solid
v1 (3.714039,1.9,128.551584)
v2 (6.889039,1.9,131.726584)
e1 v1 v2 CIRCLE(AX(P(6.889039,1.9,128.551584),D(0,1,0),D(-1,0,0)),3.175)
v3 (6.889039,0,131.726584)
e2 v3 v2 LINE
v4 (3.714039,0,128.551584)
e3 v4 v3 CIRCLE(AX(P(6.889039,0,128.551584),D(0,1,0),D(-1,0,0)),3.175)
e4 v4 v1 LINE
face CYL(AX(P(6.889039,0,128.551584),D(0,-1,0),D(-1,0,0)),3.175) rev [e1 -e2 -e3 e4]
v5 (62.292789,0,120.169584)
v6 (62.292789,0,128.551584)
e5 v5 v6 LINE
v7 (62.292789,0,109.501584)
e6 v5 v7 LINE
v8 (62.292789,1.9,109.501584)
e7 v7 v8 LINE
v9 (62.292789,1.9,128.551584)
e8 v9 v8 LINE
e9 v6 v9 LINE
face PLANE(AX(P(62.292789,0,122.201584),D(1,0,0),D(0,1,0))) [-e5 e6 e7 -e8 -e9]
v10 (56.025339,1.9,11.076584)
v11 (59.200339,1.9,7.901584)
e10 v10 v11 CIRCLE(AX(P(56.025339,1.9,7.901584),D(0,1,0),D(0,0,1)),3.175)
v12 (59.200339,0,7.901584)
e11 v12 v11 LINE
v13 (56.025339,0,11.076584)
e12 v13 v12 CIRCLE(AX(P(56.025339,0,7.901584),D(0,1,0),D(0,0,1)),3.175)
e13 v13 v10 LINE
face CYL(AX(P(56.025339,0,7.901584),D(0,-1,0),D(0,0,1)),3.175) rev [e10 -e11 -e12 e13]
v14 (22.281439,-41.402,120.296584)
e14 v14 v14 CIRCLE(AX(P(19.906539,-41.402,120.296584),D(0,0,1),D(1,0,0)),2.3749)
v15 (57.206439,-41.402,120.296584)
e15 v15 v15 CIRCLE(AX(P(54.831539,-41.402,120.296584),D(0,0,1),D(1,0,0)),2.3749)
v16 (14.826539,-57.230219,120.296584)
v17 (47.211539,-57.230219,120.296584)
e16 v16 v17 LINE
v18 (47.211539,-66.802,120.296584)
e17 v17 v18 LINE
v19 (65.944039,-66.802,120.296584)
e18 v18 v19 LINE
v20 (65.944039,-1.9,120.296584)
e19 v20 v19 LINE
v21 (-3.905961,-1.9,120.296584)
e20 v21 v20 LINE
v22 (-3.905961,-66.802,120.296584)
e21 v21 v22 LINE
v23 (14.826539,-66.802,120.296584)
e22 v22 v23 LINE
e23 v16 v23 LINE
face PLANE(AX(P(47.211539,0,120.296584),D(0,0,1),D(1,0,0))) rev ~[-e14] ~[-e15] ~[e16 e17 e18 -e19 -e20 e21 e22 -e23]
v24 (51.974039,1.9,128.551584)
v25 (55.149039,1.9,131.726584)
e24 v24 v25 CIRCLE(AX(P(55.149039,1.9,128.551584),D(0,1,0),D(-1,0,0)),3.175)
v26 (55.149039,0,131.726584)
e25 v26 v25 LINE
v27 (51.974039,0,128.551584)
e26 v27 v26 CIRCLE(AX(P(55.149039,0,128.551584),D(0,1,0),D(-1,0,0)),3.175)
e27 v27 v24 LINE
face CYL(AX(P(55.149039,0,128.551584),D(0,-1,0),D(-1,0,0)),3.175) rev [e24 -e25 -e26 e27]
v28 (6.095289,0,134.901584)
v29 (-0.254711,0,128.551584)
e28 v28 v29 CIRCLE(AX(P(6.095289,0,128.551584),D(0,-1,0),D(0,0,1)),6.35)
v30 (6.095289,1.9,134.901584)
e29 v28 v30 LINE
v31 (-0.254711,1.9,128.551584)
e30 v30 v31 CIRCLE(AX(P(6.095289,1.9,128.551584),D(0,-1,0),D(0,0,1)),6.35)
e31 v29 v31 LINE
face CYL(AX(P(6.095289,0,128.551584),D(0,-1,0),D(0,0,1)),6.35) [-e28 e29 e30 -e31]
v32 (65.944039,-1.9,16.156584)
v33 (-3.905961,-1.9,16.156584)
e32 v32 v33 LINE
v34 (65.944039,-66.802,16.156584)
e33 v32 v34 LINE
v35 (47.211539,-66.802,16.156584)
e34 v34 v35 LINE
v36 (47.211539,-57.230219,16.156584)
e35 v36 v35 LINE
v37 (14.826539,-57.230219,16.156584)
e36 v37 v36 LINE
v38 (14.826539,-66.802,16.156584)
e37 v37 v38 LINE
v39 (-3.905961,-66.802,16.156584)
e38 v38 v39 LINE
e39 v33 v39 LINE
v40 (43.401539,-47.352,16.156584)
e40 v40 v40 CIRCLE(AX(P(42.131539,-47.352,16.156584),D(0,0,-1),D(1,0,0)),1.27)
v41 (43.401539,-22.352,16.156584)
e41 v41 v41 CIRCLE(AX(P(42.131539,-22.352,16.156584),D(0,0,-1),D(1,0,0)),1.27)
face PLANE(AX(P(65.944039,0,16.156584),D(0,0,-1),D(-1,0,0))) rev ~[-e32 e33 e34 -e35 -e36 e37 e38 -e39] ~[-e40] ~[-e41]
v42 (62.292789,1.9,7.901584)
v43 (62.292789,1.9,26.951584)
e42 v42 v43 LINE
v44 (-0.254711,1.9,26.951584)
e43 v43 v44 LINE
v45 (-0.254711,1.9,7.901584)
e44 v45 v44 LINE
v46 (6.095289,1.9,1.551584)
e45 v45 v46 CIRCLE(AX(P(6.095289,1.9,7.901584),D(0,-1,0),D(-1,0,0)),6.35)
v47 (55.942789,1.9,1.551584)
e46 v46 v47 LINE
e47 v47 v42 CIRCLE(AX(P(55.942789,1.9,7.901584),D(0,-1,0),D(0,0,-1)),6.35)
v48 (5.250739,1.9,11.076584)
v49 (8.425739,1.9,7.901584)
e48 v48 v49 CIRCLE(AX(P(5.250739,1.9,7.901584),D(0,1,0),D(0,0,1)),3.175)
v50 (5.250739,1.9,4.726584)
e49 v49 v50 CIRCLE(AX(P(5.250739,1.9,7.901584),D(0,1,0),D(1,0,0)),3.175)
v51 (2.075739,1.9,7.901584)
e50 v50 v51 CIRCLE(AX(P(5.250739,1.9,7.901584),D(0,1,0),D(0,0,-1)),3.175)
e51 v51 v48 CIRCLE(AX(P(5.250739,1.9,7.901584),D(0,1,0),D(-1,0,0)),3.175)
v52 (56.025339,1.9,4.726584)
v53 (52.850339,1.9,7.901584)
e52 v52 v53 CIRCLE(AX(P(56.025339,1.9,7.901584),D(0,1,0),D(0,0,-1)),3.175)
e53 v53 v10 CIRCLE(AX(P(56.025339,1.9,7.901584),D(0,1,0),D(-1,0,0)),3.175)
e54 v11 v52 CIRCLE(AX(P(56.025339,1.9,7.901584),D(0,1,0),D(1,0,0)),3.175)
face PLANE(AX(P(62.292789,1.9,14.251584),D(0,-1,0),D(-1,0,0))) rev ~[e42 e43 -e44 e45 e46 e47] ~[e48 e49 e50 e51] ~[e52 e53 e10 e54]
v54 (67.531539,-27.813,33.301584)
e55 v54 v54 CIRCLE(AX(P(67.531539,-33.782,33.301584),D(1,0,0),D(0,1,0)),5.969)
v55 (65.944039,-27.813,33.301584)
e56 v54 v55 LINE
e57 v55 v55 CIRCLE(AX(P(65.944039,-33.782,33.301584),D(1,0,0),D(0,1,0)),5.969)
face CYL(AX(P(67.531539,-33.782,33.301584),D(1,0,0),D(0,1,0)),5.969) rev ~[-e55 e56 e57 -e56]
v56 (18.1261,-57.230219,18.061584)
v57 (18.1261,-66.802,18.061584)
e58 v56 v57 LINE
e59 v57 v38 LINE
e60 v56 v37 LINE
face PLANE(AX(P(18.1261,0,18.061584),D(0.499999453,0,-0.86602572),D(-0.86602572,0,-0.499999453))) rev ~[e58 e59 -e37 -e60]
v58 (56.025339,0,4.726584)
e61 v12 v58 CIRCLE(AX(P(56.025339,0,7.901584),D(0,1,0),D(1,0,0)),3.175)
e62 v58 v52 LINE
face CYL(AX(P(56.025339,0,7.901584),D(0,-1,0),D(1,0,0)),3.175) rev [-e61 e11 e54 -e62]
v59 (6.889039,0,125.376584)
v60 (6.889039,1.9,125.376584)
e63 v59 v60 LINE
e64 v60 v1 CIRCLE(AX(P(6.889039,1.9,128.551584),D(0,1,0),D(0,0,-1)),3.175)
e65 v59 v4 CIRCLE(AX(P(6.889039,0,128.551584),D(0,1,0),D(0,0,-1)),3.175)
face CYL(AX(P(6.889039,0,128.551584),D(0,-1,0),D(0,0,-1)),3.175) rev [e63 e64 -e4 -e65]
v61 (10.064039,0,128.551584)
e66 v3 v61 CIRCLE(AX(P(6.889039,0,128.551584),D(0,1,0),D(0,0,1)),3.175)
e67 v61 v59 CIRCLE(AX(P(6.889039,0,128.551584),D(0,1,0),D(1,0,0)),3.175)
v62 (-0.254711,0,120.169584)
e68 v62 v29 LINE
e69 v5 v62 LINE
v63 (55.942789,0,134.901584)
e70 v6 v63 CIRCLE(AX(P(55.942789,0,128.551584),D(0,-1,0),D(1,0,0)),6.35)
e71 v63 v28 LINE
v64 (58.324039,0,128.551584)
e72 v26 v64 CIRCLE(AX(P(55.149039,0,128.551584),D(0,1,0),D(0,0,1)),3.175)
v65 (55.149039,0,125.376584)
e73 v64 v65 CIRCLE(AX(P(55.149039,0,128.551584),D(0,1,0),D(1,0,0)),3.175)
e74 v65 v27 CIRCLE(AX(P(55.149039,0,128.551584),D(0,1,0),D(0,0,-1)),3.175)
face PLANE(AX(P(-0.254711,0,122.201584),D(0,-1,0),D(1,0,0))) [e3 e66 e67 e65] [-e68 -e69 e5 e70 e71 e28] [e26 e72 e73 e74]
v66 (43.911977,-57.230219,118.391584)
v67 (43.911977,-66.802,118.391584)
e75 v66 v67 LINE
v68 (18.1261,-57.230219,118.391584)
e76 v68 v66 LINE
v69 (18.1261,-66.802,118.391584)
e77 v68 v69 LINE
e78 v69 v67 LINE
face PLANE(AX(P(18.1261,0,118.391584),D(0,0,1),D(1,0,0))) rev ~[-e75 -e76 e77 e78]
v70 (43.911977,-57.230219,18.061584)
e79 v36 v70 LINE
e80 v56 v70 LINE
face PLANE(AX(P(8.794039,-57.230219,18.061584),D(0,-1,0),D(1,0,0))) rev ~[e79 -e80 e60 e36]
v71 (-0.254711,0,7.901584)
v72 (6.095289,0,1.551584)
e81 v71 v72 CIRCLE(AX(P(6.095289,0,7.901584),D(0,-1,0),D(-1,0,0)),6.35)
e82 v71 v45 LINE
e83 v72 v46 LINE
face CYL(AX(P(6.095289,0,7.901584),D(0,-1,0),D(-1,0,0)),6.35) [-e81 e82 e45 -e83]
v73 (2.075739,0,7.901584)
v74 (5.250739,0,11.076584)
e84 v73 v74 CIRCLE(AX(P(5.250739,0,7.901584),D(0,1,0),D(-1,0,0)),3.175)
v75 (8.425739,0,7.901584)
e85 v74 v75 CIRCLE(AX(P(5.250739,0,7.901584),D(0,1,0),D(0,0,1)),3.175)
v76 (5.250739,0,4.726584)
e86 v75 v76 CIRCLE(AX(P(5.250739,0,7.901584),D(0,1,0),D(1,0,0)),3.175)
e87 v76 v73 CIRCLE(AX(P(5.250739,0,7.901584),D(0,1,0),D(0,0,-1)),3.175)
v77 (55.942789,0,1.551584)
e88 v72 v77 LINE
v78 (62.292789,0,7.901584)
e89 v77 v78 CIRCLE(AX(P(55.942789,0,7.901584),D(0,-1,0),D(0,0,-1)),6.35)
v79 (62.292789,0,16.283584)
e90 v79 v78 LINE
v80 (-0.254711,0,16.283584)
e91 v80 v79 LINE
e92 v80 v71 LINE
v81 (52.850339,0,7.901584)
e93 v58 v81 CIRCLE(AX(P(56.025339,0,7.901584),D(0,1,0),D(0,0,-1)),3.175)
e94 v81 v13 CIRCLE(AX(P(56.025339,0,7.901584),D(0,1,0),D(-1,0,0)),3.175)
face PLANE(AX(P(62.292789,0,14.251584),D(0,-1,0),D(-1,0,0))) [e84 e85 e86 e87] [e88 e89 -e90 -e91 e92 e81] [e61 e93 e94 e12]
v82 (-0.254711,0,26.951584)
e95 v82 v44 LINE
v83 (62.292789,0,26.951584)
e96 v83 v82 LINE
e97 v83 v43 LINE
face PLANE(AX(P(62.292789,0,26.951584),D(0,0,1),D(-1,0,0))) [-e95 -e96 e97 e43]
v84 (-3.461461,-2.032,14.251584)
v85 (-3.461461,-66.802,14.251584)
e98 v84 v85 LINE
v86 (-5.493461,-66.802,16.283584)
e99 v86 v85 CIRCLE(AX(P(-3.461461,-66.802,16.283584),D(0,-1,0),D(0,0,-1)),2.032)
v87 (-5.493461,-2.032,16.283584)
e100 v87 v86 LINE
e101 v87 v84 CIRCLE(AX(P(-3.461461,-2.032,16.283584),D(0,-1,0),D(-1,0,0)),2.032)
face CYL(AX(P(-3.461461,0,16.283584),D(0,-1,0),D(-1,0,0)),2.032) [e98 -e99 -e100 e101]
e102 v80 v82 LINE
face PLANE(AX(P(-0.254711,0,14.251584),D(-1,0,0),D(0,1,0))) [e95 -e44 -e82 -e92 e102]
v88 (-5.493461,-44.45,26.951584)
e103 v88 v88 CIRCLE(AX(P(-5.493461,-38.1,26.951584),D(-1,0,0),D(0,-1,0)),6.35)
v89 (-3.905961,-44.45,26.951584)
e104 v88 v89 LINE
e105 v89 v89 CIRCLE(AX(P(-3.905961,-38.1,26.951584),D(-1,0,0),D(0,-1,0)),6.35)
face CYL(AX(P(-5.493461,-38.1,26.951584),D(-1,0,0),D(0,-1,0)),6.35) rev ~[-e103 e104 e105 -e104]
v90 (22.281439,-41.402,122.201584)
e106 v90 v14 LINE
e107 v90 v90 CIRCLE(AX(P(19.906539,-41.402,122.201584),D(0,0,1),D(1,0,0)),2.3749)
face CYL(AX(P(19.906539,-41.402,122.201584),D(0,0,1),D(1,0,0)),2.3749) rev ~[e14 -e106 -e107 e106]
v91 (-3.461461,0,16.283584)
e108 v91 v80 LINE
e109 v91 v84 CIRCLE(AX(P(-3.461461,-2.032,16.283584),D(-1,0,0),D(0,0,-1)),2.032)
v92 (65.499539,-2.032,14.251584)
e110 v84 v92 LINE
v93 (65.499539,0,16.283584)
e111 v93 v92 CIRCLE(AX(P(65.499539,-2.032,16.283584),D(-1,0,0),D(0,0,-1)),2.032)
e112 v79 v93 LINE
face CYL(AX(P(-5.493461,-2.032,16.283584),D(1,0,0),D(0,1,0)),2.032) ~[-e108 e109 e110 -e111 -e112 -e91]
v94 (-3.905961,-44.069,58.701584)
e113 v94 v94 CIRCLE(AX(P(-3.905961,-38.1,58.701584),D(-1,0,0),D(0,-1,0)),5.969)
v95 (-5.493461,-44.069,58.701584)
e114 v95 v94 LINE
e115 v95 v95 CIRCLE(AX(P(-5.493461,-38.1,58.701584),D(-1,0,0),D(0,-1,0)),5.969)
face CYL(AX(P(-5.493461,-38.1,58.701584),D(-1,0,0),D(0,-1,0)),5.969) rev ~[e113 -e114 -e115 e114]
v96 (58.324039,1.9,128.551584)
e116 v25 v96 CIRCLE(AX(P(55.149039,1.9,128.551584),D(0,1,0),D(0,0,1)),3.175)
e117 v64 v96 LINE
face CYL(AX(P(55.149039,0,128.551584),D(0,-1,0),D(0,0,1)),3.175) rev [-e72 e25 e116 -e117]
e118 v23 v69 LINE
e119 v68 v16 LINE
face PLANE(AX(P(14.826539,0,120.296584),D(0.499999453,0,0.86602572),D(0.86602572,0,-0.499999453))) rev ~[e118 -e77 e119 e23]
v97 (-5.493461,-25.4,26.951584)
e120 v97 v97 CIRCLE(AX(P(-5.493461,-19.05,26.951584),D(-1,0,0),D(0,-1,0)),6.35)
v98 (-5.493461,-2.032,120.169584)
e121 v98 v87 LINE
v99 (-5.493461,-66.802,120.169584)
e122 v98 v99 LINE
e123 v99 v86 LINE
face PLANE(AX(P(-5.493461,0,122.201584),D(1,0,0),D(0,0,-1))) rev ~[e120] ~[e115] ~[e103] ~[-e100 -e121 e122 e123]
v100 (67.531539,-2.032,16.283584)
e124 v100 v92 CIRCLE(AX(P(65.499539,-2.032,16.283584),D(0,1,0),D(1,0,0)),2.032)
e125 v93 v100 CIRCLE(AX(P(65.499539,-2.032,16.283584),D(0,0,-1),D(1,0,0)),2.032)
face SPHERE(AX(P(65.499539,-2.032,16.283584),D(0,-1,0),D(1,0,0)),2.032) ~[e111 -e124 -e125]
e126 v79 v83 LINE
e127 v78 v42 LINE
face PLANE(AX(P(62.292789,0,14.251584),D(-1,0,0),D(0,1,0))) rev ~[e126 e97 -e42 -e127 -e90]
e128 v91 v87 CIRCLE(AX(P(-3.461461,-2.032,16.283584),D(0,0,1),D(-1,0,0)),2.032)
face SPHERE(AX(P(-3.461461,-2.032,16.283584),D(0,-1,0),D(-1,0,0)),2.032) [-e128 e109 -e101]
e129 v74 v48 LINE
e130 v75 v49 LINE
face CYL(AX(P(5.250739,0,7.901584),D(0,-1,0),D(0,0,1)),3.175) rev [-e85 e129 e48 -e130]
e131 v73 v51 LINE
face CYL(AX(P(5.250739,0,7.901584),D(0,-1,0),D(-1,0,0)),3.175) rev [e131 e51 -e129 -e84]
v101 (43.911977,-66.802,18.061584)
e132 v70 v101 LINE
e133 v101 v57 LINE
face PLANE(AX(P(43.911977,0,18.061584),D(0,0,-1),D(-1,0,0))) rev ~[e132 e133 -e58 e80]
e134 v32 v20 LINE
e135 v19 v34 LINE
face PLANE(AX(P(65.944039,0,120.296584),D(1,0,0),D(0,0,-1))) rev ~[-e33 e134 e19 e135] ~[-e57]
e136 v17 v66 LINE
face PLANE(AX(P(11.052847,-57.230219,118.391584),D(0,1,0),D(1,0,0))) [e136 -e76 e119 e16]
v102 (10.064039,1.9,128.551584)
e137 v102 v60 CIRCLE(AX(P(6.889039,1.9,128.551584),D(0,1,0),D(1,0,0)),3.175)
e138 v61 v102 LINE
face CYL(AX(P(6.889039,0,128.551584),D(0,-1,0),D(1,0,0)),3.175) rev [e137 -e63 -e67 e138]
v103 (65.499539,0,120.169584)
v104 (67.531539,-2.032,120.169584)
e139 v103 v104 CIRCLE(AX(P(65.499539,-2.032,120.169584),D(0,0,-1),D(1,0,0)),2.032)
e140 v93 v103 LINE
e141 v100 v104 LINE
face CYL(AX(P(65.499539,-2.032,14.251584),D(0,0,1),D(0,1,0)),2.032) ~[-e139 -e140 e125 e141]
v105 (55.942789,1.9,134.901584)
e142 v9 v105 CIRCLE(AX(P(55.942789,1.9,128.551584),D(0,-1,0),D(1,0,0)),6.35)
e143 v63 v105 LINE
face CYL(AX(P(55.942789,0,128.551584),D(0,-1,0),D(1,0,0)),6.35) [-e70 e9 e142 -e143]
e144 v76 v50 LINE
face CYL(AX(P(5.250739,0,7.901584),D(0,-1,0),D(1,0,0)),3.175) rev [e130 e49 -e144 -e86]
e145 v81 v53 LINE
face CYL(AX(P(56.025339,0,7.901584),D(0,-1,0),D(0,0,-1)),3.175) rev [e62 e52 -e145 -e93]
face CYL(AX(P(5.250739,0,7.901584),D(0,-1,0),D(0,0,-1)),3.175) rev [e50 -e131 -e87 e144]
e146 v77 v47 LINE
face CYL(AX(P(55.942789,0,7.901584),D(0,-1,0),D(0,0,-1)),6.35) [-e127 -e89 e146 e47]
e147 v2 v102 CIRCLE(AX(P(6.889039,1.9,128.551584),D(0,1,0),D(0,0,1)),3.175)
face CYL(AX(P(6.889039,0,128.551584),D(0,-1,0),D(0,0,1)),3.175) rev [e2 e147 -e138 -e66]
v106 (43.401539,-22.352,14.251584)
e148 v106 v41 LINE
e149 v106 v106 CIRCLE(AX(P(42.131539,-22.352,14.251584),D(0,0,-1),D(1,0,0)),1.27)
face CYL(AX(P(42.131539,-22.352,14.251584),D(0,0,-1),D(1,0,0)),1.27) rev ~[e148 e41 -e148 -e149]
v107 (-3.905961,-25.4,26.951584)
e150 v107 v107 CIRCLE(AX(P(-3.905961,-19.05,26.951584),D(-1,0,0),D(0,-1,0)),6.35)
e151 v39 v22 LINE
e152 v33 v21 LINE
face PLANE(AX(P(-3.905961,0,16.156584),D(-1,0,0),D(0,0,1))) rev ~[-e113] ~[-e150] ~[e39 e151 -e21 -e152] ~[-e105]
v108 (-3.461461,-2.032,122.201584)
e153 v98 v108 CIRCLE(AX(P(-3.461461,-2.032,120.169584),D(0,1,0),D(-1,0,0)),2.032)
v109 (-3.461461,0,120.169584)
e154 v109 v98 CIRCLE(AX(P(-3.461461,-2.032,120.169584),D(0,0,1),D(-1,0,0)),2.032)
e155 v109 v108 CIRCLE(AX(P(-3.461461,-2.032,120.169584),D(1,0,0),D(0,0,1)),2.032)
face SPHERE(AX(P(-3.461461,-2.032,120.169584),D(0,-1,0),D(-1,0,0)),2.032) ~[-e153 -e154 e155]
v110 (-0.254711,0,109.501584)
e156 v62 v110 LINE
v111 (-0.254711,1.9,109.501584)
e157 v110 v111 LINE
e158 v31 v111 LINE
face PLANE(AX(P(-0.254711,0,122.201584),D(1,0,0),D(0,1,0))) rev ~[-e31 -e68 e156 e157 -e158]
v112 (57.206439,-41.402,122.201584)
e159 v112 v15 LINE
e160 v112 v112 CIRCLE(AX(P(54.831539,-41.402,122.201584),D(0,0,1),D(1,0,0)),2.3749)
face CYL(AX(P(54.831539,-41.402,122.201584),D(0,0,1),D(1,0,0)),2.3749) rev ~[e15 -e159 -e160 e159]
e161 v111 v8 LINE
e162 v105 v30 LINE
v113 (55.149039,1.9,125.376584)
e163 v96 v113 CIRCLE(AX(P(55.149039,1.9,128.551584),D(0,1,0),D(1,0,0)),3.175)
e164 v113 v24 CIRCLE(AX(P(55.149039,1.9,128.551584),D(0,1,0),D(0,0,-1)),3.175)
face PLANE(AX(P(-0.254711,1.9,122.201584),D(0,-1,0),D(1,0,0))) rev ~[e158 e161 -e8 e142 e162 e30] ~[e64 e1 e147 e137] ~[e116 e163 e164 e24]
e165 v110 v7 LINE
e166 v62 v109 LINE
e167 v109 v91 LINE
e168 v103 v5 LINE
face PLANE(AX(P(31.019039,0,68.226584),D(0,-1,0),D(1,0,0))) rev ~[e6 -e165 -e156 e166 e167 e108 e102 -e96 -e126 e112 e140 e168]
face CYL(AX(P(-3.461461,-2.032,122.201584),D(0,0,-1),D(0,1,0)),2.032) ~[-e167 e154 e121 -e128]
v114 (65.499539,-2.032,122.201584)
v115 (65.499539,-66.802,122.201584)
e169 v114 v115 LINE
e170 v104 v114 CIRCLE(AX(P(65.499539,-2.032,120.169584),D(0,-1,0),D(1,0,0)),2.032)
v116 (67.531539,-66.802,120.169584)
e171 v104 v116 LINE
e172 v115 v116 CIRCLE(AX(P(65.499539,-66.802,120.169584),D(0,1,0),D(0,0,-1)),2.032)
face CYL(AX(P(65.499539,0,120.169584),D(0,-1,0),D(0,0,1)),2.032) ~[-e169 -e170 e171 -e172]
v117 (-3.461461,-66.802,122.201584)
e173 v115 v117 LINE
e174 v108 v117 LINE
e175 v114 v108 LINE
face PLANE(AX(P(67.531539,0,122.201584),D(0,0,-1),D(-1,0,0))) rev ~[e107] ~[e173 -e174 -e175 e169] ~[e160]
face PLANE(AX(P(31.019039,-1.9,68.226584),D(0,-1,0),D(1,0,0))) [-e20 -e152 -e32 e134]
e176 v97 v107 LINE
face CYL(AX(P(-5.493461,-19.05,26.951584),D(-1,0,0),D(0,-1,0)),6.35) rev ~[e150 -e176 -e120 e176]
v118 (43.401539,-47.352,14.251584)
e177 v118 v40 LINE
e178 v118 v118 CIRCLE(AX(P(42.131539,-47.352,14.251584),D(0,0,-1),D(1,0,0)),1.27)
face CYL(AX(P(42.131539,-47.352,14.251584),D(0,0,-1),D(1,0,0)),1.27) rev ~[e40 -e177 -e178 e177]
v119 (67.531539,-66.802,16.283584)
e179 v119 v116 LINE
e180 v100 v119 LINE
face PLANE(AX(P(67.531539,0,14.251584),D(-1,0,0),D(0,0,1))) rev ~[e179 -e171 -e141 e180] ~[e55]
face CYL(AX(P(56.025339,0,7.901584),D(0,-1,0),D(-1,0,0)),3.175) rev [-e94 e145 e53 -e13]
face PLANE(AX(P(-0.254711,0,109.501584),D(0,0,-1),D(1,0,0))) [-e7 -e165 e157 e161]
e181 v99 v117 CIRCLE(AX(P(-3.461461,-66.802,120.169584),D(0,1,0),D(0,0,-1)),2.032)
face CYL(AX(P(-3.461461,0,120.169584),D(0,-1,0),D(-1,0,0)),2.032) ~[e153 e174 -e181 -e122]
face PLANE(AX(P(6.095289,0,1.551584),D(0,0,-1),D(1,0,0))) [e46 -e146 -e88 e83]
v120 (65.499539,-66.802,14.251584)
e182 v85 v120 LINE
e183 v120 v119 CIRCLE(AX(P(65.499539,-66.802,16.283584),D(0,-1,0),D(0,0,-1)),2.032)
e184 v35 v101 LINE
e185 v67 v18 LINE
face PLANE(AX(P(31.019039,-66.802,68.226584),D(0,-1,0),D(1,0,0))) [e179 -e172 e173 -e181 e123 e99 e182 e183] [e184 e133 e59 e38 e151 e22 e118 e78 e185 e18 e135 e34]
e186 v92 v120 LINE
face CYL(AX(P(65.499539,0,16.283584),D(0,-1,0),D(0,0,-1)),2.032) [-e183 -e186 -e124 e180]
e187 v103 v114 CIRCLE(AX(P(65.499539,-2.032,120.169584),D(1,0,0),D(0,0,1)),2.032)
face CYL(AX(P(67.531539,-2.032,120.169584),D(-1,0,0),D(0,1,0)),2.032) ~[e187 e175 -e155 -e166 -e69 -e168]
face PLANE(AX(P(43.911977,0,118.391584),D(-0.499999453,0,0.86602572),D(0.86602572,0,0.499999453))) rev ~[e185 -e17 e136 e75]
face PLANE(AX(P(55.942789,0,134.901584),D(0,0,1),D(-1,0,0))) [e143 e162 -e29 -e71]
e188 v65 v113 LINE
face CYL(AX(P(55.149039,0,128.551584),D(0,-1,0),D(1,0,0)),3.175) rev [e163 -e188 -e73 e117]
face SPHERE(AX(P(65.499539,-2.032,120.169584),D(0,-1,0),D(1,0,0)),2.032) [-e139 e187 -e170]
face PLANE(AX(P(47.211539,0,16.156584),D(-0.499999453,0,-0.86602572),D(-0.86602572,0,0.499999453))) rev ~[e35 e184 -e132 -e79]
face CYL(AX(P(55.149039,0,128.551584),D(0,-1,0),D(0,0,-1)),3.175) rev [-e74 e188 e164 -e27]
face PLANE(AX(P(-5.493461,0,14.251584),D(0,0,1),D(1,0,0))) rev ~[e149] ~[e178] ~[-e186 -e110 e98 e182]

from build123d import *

# Parameters (mm, degrees)
F1_DEPTH   = 66.802
F2_DEPTH   = 1.9
F3_DEPTH   = 1.9
F4_R       = 2.032
F5_DEPTH   = 12.7
F6_DEPTH   = 12.7
F7_R       = 6.35
F8_DEPTH   = 1.5875
F9_R       = 1.27
F10_DEPTH  = 3.81
F11_W      = 43.18
F11_H      = 55.3302187473
F1_FACE3_W = 18.7325
F1_FACE3_H = 64.902
F12_DEPTH  = 1.905
F13_W      = 43.18
F13_H      = 55.3302187473
F14_DEPTH  = 1.905
F15_R      = 2.3749
F16_DEPTH  = 1.905
F17_R      = 5.969
F18_DEPTH  = 1.5875
F19_R      = 5.969
F20_DEPTH  = 1.5875


with BuildPart() as f1:
    # F0 (on Front) → F1 (new body)
    with BuildSketch(Plane.XZ):
        Polygon((62.2927888, 122.2015844), (-0.2547112, 122.2015844), (-5.4934612, 122.2015844), (-5.4934612, 14.2515844), (-0.2547112, 14.2515844), (62.2927888, 14.2515844), (67.5315388, 14.2515844), (67.5315388, 122.2015844), align=None)
        Polygon((65.9440388, 120.2965844), (65.9440388, 16.1565844), (47.2115388, 16.1565844), (43.9119772, 18.0615844), (18.1261004, 18.0615844), (14.8265388, 16.1565844), (-3.9059612, 16.1565844), (-3.9059612, 120.2965844), (14.8265388, 120.2965844), (18.1261004, 118.3915844), (43.9119772, 118.3915844), (47.2115388, 120.2965844), align=None, mode=Mode.SUBTRACT)
    extrude(amount=F1_DEPTH)

    # F0 (on Front) → F3 (join)
    with BuildSketch(Plane.XZ):
        Polygon((47.2115388, 16.1565844), (65.9440388, 16.1565844), (65.9440388, 120.2965844), (47.2115388, 120.2965844), (43.9119772, 118.3915844), (18.1261004, 118.3915844), (14.8265388, 120.2965844), (-3.9059612, 120.2965844), (-3.9059612, 16.1565844), (14.8265388, 16.1565844), (18.1261004, 18.0615844), (43.9119772, 18.0615844), align=None)
    extrude(amount=F3_DEPTH)

    # F4
    f4_edges = [f1.edges().sort_by_distance(p)[0] for p in [
        (-5.493461, -33.401, 122.201584),
        (67.531539, -33.401, 122.201584),
        (67.531539, -33.401, 14.251584),
        (-5.493461, -33.401, 14.251584),
        (-5.493461, 0, 68.226584),
        (67.531539, 0, 68.226584),
        (31.019039, 0, 122.201584),
        (31.019039, 0, 14.251584),
    ]]
    fillet(f4_edges, radius=F4_R)



with BuildPart() as f2:
    # F0 (on Front) → F2 (new body)
    with BuildSketch(Plane.XZ):
        with BuildLine():
            Line((62.2927888, 14.2515844), (-0.2547112, 14.2515844))
            Line((-0.2547112, 14.2515844), (-0.2547112, 7.9015844))
            ThreePointArc((-0.2547112, 7.9015844), (1.6051607395, 3.4114563395), (6.0952888, 1.5515844))
            Line((6.0952888, 1.5515844), (55.9427888, 1.5515844))
            ThreePointArc((55.9427888, 1.5515844), (60.4329168605, 3.4114563395), (62.2927888, 7.9015844))
            Line((62.2927888, 7.9015844), (62.2927888, 14.2515844))
        make_face()
        with BuildLine():
            ThreePointArc((5.2507388, 11.0765844), (7.4958028303, 10.1466484303), (8.4257388, 7.9015844))
            ThreePointArc((8.4257388, 7.9015844), (7.4958028303, 5.6565203697), (5.2507388, 4.7265844))
            ThreePointArc((5.2507388, 4.7265844), (3.0056747697, 5.6565203697), (2.0757388, 7.9015844))
            ThreePointArc((2.0757388, 7.9015844), (3.0056747697, 10.1466484303), (5.2507388, 11.0765844))
        make_face(mode=Mode.SUBTRACT)
        with BuildLine():
            ThreePointArc((56.0253388, 11.0765844), (58.2704028303, 10.1466484303), (59.2003388, 7.9015844))
            ThreePointArc((59.2003388, 7.9015844), (58.2704028303, 5.6565203697), (56.0253388, 4.7265844))
            ThreePointArc((56.0253388, 4.7265844), (53.7802747697, 5.6565203697), (52.8503388, 7.9015844))
            ThreePointArc((52.8503388, 7.9015844), (53.7802747697, 10.1466484303), (56.0253388, 11.0765844))
        make_face(mode=Mode.SUBTRACT)
    extrude(amount=-F2_DEPTH)


with BuildPart() as f2b:
    # F0 (on Front) → F2, piece 2 (new body)
    with BuildSketch(Plane.XZ):
        with BuildLine():
            Line((55.9427888, 134.9015844), (6.0952888, 134.9015844))
            ThreePointArc((6.0952888, 134.9015844), (1.6051607395, 133.0417124605), (-0.2547112, 128.5515844))
            Line((-0.2547112, 128.5515844), (-0.2547112, 122.2015844))
            Line((-0.2547112, 122.2015844), (62.2927888, 122.2015844))
            Line((62.2927888, 122.2015844), (62.2927888, 128.5515844))
            ThreePointArc((62.2927888, 128.5515844), (60.4329168605, 133.0417124605), (55.9427888, 134.9015844))
        make_face()
        with BuildLine():
            ThreePointArc((6.8890388, 131.7265844), (9.1341028303, 130.7966484303), (10.0640388, 128.5515844))
            ThreePointArc((10.0640388, 128.5515844), (9.1341028303, 126.3065203697), (6.8890388, 125.3765844))
            ThreePointArc((6.8890388, 125.3765844), (4.6439747697, 126.3065203697), (3.7140388, 128.5515844))
            ThreePointArc((3.7140388, 128.5515844), (4.6439747697, 130.7966484303), (6.8890388, 131.7265844))
        make_face(mode=Mode.SUBTRACT)
        with BuildLine():
            ThreePointArc((55.1490388, 131.7265844), (57.3941028303, 130.7966484303), (58.3240388, 128.5515844))
            ThreePointArc((58.3240388, 128.5515844), (57.3941028303, 126.3065203697), (55.1490388, 125.3765844))
            ThreePointArc((55.1490388, 125.3765844), (52.9039747697, 126.3065203697), (51.9740388, 128.5515844))
            ThreePointArc((51.9740388, 128.5515844), (52.9039747697, 130.7966484303), (55.1490388, 131.7265844))
        make_face(mode=Mode.SUBTRACT)
    extrude(amount=-F2_DEPTH)


with BuildPart() as f1_1:
    add(f1.part)
    # F5 (add): a face of the model
    f5_faces = [f2.part.faces().sort_by_distance(p)[0] for p in [
        (31.0190388, 0.95, 14.2515844),
    ]]

    add(f2.part)  # F5 merges F2
    extrude(f5_faces, amount=F5_DEPTH)

    # F6 (add): a face of the model
    f6_faces = [f2b.part.faces().sort_by_distance(p)[0] for p in [
        (31.0190388, 0.95, 122.2015844),
    ]]

    add(f2b.part)  # F6 merges F2b
    extrude(f6_faces, amount=F6_DEPTH)

    # F7 (on face) → F8 (cut, through all)
    with BuildSketch(Plane(origin=(-5.4934612, 0, 0), x_dir=(0, -1, 0), z_dir=(-1, 0, 0))):
        with Locations((38.1, 26.9515844)):
            Circle(F7_R)
        with Locations((19.05, 26.9515844)):
            Circle(F7_R)
    extrude(amount=-F8_DEPTH, mode=Mode.SUBTRACT)

    # F9 (on face) → F10 (cut, through all)
    with BuildSketch(Plane(origin=(0, 0, 14.2515844), x_dir=(1, 0, 0), z_dir=(0, 0, -1))):
        with Locations((42.1315388, 47.352)):
            Circle(F9_R)
        with Locations((42.1315388, 22.352)):
            Circle(F9_R)
    extrude(amount=-F10_DEPTH, mode=Mode.SUBTRACT)

    # F11 (on face) + F1_face3 (on face) → F12 (cut, through all)
    with BuildSketch(Plane(origin=(0, 0, 118.3915844), x_dir=(1, 0, 0), z_dir=(0, 0, -1))):
        with Locations((32.6428469086, 29.5651093736)):
            Rectangle(F11_W, F11_H)
    with BuildSketch(Plane(origin=(5.4602888, -34.351, 16.1565844), x_dir=(1, 0, 0), z_dir=(0, 0, 1))):
        Rectangle(F1_FACE3_W, F1_FACE3_H)
    extrude(amount=-F12_DEPTH, dir=(0, 0, -1), mode=Mode.SUBTRACT)

    # F13 (on face) → F14 (cut, through all)
    with BuildSketch(Plane.XY.offset(18.0615844)):
        with Locations((30.3840388, -29.5651093736)):
            Rectangle(F13_W, F13_H)
    extrude(amount=-F14_DEPTH, mode=Mode.SUBTRACT)

    # F15 (on face) → F16 (cut, through all)
    with BuildSketch(Plane.XY.offset(122.2015844)):
        with Locations((19.9065388, -41.402)):
            Circle(F15_R)
        with Locations((54.8315388, -41.402)):
            Circle(F15_R)
    extrude(amount=-F16_DEPTH, mode=Mode.SUBTRACT)

    # F17 (on face) → F18 (cut, through all)
    with BuildSketch(Plane.YZ.offset(67.5315388)):
        with Locations((-33.782, 33.3015844)):
            Circle(F17_R)
    extrude(amount=-F18_DEPTH, mode=Mode.SUBTRACT)

    # F19 (on face) → F20 (cut, through all)
    with BuildSketch(Plane(origin=(-5.4934612, 0, 0), x_dir=(0, -1, 0), z_dir=(-1, 0, 0))):
        with Locations((38.1, 58.7015844)):
            Circle(F19_R)
    extrude(amount=-F20_DEPTH, mode=Mode.SUBTRACT)


solid = f1_1.part
